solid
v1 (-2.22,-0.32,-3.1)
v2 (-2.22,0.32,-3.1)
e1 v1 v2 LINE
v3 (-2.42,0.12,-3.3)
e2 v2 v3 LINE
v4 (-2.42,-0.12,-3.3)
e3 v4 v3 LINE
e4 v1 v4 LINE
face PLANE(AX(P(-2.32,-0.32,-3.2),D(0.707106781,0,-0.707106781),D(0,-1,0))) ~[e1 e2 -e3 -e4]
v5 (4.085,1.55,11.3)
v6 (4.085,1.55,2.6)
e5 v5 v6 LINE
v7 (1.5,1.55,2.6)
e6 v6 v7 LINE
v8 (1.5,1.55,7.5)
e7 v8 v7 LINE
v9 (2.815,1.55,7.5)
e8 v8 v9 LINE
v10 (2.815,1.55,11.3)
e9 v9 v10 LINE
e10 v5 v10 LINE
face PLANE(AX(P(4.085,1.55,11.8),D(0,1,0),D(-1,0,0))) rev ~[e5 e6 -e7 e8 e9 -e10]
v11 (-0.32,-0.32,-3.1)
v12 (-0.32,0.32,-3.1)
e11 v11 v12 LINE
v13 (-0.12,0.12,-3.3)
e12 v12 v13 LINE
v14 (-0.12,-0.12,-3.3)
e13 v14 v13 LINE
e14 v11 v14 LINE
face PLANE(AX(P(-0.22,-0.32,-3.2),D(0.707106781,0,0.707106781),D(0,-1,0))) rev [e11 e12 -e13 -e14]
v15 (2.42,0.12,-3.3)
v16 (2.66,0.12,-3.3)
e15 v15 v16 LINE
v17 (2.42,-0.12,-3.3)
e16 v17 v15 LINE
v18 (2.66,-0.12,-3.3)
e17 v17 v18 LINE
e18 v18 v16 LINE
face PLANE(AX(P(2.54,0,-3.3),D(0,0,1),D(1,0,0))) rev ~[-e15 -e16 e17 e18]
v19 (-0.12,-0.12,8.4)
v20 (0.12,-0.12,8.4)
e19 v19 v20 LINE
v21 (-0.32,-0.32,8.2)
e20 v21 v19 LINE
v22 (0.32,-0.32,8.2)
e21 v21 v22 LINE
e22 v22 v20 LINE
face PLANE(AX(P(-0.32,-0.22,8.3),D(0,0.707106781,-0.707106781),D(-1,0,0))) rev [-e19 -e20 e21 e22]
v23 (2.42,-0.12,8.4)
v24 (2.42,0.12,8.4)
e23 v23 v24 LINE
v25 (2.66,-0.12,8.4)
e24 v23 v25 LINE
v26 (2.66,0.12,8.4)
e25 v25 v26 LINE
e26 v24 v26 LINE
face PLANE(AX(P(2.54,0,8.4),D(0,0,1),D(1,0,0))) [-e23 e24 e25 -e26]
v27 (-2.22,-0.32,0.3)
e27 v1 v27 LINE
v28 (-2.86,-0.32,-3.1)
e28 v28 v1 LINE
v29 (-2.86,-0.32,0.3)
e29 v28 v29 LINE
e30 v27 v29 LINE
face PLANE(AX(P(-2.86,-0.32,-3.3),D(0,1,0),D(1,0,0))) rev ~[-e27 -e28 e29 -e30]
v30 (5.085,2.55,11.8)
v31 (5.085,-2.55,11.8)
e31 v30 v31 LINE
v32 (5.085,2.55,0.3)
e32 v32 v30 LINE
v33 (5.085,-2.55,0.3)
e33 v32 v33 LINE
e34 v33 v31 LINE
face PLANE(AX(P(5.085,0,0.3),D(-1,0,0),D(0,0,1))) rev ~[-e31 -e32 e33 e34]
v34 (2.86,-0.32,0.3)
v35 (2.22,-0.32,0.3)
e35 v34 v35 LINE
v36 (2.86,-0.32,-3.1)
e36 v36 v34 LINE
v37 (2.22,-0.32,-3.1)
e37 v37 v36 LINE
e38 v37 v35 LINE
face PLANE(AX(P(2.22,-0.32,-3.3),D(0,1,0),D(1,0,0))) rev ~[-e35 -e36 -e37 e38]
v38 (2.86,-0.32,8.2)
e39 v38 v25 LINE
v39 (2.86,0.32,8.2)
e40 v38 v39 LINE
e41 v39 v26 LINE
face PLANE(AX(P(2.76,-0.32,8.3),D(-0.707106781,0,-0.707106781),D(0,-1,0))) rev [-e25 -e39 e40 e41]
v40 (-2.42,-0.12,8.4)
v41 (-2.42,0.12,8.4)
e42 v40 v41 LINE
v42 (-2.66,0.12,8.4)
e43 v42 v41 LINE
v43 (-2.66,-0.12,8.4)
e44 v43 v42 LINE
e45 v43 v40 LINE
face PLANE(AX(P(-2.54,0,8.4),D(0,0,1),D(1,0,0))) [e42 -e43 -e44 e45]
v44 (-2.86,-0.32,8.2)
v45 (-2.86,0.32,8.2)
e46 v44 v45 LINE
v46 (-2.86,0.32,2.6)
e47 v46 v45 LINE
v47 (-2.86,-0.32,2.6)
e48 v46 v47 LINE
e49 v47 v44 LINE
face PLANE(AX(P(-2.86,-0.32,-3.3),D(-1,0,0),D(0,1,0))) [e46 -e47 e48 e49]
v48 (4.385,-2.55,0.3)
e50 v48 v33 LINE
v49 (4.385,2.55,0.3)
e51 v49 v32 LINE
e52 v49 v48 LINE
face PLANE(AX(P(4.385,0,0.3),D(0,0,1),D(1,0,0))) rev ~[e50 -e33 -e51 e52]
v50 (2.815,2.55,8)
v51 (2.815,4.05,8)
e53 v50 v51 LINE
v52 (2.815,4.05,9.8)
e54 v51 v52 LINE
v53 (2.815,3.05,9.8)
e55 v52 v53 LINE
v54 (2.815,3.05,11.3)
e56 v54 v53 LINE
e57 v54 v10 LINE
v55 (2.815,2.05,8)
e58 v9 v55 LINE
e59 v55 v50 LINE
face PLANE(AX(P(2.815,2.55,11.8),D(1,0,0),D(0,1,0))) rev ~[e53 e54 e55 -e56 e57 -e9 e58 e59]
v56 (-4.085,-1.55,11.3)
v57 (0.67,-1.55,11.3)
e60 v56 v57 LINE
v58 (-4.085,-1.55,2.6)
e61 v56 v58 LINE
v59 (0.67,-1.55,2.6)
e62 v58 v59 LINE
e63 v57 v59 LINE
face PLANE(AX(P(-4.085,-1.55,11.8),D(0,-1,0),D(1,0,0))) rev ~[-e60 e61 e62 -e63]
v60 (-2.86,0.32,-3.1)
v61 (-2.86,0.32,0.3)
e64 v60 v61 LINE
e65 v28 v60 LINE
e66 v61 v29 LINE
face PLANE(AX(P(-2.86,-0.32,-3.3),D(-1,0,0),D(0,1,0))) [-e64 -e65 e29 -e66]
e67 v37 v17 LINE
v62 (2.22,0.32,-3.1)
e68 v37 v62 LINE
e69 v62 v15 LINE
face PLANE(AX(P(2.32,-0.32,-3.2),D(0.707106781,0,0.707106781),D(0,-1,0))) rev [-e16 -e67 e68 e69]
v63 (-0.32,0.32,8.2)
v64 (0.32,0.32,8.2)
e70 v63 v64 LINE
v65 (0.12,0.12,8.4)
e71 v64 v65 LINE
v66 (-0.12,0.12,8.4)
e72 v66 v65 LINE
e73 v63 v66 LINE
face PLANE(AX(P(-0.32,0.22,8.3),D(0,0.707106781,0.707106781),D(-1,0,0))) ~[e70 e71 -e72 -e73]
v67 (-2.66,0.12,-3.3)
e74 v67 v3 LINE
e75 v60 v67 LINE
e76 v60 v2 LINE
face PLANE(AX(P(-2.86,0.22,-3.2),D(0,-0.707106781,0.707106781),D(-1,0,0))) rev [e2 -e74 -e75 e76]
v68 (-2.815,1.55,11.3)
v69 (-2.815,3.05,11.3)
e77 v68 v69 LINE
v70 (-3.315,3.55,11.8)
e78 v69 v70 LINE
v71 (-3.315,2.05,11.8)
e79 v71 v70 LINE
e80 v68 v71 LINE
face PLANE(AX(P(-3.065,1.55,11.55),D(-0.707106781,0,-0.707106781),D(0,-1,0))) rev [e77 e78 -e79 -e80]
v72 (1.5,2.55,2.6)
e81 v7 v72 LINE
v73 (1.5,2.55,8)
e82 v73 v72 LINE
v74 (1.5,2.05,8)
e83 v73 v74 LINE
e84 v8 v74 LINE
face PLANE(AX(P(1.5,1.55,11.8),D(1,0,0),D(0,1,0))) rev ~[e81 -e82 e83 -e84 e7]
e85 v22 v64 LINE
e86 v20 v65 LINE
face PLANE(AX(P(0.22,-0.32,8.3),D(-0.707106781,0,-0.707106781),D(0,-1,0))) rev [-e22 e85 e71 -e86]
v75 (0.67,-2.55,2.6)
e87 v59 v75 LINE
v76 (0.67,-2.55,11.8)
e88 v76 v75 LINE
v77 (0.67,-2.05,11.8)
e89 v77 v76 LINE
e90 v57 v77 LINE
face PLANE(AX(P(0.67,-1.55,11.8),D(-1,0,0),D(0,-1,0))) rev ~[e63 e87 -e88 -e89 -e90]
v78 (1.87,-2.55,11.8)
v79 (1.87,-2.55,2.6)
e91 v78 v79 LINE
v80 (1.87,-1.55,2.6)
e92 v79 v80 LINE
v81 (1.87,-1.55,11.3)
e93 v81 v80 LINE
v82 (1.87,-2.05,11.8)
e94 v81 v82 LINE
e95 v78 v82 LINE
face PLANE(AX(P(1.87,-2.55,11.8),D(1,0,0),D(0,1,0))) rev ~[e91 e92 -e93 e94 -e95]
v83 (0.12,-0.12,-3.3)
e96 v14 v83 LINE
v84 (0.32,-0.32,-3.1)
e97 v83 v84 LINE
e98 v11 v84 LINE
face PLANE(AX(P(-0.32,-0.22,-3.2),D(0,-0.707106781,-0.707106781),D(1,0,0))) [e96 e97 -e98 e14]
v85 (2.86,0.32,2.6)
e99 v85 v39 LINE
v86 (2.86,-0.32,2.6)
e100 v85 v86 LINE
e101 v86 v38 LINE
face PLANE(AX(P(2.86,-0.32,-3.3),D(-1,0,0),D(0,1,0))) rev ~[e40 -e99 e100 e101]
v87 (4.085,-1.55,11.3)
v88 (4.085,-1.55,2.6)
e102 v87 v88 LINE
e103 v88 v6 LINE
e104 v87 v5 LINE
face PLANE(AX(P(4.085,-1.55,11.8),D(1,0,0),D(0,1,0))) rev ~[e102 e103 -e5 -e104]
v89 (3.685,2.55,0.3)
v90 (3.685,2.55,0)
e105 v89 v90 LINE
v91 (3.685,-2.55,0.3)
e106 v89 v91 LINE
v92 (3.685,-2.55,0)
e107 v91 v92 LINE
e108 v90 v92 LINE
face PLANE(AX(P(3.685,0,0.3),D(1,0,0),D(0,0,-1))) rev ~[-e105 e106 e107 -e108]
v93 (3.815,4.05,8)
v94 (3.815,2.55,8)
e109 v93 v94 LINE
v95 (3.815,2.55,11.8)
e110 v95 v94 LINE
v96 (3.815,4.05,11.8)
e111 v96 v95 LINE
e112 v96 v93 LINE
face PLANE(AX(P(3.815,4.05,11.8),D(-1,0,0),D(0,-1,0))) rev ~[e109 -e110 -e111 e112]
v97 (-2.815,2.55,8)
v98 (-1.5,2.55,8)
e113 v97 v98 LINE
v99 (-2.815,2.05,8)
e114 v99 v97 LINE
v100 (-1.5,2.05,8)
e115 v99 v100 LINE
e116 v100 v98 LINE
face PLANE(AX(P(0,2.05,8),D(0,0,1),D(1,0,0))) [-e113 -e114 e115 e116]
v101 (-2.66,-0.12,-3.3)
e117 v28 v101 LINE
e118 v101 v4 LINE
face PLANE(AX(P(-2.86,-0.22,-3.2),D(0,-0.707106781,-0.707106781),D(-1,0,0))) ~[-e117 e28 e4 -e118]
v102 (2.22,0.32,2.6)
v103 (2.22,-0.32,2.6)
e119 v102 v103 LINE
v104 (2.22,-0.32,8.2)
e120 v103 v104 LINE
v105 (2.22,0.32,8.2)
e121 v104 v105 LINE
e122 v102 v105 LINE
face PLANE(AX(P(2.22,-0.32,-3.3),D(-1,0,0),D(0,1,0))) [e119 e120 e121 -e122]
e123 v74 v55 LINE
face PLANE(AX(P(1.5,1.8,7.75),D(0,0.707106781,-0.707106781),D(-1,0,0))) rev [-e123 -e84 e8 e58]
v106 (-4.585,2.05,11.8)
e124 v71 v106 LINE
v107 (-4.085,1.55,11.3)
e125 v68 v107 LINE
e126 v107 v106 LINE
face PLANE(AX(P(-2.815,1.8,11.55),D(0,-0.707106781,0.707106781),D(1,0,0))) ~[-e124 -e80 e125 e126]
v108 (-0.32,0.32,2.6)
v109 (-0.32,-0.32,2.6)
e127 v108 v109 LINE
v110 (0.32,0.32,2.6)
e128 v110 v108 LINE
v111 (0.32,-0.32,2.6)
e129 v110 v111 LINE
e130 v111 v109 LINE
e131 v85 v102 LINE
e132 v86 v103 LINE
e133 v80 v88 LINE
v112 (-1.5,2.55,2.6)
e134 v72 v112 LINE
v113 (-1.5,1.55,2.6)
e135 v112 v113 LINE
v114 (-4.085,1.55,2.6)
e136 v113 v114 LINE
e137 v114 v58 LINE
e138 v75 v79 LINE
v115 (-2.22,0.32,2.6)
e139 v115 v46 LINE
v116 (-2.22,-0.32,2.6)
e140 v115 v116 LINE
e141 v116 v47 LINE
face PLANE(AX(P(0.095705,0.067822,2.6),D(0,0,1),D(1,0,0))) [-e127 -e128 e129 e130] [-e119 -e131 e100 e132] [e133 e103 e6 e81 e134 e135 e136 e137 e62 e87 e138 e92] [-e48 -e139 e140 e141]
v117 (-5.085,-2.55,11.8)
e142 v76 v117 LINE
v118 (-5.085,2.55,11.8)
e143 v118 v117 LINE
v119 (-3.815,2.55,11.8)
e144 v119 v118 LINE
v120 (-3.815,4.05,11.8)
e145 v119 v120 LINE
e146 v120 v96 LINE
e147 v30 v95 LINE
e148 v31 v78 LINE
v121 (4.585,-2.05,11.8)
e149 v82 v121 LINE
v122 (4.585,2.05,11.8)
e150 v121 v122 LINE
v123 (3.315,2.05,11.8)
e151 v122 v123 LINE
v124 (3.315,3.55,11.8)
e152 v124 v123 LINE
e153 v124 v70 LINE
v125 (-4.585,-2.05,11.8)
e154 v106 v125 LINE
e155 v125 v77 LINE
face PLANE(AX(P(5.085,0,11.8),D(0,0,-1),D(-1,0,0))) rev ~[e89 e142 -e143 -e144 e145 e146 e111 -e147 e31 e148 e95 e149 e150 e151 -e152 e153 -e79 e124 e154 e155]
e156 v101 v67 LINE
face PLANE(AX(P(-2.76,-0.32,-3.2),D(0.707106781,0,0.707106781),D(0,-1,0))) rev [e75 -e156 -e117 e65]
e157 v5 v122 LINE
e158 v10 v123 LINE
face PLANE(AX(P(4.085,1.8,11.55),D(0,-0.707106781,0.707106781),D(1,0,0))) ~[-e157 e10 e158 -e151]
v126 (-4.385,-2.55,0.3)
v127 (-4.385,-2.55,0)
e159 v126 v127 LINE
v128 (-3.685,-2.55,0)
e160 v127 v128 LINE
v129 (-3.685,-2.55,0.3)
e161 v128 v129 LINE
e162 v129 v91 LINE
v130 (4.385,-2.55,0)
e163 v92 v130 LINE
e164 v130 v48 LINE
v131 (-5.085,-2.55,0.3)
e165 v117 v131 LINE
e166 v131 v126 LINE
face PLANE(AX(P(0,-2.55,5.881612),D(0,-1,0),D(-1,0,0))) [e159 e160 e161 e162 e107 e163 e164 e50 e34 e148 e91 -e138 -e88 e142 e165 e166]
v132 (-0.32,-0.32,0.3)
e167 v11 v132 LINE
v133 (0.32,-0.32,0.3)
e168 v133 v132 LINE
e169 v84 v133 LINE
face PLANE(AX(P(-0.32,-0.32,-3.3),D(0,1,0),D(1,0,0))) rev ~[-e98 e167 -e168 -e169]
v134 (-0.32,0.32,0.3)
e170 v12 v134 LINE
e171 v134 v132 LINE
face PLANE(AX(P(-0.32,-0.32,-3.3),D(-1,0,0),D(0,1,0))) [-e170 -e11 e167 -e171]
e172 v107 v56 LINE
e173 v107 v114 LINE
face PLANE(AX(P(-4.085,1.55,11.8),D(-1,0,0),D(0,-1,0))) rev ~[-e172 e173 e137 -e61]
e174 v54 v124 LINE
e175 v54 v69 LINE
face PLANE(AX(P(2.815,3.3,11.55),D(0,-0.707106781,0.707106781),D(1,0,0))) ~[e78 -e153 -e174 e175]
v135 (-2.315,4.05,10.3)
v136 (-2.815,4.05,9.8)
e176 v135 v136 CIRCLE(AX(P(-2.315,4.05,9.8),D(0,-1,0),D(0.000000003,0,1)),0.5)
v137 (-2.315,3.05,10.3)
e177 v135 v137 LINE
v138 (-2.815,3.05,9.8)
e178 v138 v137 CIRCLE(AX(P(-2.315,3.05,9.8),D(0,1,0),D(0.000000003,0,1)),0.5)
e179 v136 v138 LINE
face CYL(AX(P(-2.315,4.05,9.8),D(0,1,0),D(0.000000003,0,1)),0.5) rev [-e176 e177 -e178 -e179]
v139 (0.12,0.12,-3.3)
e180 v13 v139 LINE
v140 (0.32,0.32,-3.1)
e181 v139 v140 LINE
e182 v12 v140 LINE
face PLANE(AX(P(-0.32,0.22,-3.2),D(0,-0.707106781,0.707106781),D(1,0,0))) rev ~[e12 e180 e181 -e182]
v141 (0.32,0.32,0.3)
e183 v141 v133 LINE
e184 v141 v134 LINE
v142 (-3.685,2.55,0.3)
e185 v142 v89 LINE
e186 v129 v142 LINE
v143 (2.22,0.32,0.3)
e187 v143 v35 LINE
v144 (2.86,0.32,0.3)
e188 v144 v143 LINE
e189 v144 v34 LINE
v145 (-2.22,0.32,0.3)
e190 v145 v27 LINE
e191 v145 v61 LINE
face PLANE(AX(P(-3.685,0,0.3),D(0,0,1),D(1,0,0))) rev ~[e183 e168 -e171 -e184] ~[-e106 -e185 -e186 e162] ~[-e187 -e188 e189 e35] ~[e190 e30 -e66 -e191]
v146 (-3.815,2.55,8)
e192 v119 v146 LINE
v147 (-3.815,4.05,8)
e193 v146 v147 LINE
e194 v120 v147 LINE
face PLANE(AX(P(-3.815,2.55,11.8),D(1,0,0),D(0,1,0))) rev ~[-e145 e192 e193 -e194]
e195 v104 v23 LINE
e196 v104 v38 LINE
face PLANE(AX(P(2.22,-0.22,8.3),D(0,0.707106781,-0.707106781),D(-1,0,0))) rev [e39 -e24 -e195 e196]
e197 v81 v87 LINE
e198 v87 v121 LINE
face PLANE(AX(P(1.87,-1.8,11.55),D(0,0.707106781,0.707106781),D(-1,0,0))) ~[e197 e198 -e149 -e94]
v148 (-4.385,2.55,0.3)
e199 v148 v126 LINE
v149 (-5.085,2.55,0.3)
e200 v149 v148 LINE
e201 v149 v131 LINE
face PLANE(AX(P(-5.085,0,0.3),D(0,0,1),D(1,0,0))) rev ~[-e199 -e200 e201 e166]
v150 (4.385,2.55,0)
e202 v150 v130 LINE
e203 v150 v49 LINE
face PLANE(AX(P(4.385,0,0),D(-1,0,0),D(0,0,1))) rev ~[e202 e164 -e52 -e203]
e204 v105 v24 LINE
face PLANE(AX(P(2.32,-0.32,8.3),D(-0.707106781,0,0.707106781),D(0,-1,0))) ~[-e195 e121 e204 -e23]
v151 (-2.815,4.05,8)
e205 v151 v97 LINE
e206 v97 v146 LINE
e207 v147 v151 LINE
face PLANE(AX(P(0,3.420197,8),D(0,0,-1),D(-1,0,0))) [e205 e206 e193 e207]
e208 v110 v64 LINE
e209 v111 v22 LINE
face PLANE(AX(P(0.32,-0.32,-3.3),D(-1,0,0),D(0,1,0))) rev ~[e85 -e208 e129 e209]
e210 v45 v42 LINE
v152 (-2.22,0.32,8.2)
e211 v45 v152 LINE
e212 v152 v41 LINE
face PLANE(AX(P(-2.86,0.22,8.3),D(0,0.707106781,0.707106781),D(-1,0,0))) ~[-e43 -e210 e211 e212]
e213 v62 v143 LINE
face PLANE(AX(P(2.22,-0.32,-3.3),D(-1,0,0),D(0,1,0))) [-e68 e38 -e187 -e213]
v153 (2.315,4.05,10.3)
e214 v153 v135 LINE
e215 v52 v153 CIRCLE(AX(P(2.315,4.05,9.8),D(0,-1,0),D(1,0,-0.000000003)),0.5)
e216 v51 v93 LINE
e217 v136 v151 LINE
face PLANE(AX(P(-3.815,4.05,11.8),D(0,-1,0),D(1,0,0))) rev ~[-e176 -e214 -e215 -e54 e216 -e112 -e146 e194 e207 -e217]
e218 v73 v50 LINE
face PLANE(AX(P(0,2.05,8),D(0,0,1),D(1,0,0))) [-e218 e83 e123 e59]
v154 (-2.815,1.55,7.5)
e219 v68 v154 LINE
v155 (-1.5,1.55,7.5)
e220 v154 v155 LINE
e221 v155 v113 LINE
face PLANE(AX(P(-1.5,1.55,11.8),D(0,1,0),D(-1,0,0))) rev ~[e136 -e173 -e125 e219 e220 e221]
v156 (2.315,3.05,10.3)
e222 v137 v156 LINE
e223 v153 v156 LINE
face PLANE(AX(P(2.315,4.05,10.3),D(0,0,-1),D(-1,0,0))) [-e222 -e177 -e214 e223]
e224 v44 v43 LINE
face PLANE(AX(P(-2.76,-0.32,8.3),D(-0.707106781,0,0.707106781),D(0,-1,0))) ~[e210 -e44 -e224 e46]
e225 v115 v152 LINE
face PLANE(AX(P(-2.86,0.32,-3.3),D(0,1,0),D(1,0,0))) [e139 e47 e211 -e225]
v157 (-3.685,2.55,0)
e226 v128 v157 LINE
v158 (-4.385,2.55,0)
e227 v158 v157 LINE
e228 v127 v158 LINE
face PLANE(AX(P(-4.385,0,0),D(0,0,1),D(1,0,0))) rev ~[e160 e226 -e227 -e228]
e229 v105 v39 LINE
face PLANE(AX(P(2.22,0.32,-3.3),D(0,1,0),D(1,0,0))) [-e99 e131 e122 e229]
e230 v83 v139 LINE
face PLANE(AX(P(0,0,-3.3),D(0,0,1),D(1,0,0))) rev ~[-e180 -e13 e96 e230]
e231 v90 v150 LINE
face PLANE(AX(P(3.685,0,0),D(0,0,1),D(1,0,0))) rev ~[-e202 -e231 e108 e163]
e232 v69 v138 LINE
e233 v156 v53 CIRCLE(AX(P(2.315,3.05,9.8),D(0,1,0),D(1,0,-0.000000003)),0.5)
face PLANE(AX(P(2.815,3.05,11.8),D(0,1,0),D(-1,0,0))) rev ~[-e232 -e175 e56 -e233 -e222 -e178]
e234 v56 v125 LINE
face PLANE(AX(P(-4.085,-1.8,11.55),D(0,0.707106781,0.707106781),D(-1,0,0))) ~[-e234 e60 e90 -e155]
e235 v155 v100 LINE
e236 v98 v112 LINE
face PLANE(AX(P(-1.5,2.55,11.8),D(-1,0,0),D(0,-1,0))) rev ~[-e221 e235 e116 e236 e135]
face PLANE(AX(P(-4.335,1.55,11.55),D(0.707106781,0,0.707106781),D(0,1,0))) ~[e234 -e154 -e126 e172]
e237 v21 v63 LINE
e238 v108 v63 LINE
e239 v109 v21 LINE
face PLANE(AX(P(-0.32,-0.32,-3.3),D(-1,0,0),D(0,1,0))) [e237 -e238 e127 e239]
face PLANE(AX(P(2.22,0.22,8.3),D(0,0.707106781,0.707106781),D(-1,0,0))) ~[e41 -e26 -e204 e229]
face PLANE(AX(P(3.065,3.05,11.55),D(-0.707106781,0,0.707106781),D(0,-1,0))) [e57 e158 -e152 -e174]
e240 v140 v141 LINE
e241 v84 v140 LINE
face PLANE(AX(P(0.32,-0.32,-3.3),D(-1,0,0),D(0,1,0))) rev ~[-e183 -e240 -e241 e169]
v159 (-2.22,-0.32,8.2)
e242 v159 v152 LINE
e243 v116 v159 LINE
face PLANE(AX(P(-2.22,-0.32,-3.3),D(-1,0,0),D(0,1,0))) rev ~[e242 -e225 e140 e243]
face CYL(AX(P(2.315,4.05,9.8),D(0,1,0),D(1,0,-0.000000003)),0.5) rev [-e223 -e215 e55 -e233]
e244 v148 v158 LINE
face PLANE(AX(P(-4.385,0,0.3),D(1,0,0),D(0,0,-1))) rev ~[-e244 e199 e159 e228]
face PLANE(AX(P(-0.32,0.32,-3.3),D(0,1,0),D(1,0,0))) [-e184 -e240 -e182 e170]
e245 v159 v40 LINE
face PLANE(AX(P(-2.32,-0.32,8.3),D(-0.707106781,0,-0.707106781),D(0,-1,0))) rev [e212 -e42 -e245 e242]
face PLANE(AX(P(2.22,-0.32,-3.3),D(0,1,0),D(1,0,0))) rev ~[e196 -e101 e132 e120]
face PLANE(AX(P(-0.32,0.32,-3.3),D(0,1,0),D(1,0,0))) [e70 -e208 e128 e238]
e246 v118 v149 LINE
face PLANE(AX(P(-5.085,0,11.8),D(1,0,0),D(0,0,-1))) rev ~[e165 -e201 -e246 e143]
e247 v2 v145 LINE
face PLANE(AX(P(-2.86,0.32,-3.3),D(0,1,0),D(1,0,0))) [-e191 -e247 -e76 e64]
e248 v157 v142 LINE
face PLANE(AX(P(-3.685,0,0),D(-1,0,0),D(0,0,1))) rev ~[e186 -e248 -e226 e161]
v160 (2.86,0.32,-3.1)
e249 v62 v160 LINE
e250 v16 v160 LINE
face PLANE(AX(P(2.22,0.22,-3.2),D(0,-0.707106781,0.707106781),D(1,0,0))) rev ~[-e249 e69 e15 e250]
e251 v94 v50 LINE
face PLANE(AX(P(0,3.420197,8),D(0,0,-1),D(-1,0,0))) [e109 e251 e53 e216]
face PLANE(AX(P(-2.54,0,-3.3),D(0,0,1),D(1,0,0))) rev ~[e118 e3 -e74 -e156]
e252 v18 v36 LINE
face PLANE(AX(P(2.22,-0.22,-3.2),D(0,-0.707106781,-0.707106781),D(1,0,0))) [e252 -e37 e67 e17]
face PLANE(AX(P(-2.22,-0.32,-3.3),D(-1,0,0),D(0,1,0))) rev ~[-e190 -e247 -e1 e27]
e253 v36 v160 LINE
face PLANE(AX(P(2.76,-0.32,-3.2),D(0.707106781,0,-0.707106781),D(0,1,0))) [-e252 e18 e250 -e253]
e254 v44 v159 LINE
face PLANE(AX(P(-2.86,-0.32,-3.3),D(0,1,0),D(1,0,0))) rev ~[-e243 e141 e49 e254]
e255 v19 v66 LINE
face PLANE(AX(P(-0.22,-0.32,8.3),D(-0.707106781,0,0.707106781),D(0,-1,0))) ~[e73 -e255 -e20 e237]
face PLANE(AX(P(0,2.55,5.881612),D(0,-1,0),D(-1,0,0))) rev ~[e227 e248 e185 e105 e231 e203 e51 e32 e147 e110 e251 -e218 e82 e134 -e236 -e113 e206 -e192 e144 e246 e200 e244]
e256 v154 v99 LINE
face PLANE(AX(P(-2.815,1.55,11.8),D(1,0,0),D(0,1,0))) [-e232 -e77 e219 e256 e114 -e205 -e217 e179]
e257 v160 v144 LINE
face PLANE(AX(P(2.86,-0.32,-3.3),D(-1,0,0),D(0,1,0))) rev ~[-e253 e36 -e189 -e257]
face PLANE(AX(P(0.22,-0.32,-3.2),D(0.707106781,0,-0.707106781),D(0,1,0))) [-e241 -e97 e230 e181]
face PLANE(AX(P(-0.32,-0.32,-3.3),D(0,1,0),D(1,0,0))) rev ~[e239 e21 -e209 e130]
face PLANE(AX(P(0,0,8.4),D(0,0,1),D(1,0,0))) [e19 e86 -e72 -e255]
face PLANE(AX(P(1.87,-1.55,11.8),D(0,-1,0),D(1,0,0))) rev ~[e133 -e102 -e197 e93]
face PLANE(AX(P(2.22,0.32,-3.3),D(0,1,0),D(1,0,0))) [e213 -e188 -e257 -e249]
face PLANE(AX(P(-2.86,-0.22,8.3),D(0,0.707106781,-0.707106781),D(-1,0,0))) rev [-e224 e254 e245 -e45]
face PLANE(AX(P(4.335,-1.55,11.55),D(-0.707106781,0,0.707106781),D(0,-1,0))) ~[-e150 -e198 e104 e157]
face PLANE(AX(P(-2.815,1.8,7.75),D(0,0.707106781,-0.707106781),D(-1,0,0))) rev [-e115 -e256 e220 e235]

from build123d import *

# Parameters (mm, degrees)
EXTRUDE_1_DEPTH                    = 2.55
CUT_EXTRUDE_1_DEPTH                = 9.2
EXTRUDE_2_DEPTH                    = 3.8
SKETCH_4_W                         = 5.63
SKETCH_4_H                         = 1
CUT_EXTRUDE_2_DEPTH                = 3.8
CUT_EXTRUDE_3_REACH                = 16.445
CHAMFER_1_SIZE                     = 0.5
EXTRUDE_START                      = -3.6
SKETCH_6_W                         = 0.64
SKETCH_6_H                         = 0.64
EXTRUDE_3_DEPTH                    = 11.7
CHAMFER_2_SIZE                     = 0.2
PATTERN_LINEAR_1_COUNT             = 3
PATTERN_LINEAR_1_PITCH             = 2.54
CHAMFER_2_OF_PATTERN_LINEAR_1_SIZE = 0.2


with BuildPart() as part:
    # Эскиз1 → Бобышка-Вытянуть1 (new, symmetric)
    with BuildSketch(Plane(origin=(0, 0, 0), x_dir=(1, 0, 0), z_dir=(0, 1, 0))):
        Polygon((-3.685, -0.3), (3.685, -0.3), (3.685, 0), (4.385, 0), (4.385, -0.3), (5.085, -0.3), (5.085, -11.8), (-5.085, -11.8), (-5.085, -0.3), (-4.385, -0.3), (-4.385, 0), (-3.685, 0), align=None)
    extrude(amount=EXTRUDE_1_DEPTH, both=True)

    # Эскиз2 → Вырез-Вытянуть1 (cut)
    with BuildSketch(Plane.XY.offset(11.8)):
        Polygon((-4.085, 1.55), (-4.085, -1.55), (0.67, -1.55), (0.67, -2.55), (1.87, -2.55), (1.87, -1.55), (4.085, -1.55), (4.085, 1.55), (1.5, 1.55), (1.5, 2.55), (-1.5, 2.55), (-1.5, 1.55), align=None)
    extrude(amount=-CUT_EXTRUDE_1_DEPTH, mode=Mode.SUBTRACT)

    # Эскиз3 → Бобышка-Вытянуть2 (add)
    with BuildSketch(Plane.XY.offset(11.8)):
        Polygon((-3.815, 2.55), (-3.815, 4.05), (3.815, 4.05), (3.815, 2.55), (2.815, 2.55), (2.815, 3.05), (-2.815, 3.05), (-2.815, 2.55), align=None)
    extrude(amount=-EXTRUDE_2_DEPTH)

    # Эскиз4 → Вырез-Вытянуть2 (cut)
    with BuildSketch(Plane.XY.offset(11.8)):
        with Locations((0, 2.05)):
            Rectangle(SKETCH_4_W, SKETCH_4_H)
    extrude(amount=-CUT_EXTRUDE_2_DEPTH, mode=Mode.SUBTRACT)

    # Эскиз5 → Вырез-Вытянуть3 (cut, up to next)
    with BuildSketch(Plane(origin=(0, 4.05, 0), x_dir=(1, 0, 0), z_dir=(0, 1, 0)), mode=Mode.PRIVATE) as cut_extrude_3_sk1:
        with BuildLine():
            Line((2.815, -8), (2.815, -9.8))
            ThreePointArc((2.815, -9.8), (2.668553391, -10.153553391), (2.315, -10.3))
            Line((2.315, -10.3), (-2.315, -10.3))
            ThreePointArc((-2.315, -10.3), (-2.668553391, -10.153553391), (-2.815, -9.8))
            Line((-2.815, -9.8), (-2.815, -8))
            Line((-2.815, -8), (2.815, -8))
        make_face()
    cut_extrude_3_tool1 = extrude(cut_extrude_3_sk1.sketch, amount=-CUT_EXTRUDE_3_REACH, mode=Mode.PRIVATE) & part.part
    add(cut_extrude_3_tool1.solids().sort_by_distance((0, 4.05, 9.141324))[0], mode=Mode.SUBTRACT)

    # Фаска1
    chamfer_1_edges = [part.edges().sort_by_distance(p)[0] for p in [
        (-2.1575, 1.55, 8),
        (-4.085, 0, 11.8),
        (-1.7075, -1.55, 11.8),
        (2.9775, -1.55, 11.8),
        (4.085, 0, 11.8),
        (3.45, 1.55, 11.8),
        (-2.815, 2.3, 11.8),
        (0, 3.05, 11.8),
        (2.815, 2.3, 11.8),
        (2.1575, 1.55, 8),
        (-3.45, 1.55, 11.8),
    ]]
    chamfer(chamfer_1_edges, length=CHAMFER_1_SIZE)

    # Эскиз6 → Бобышка-Вытянуть3 (add)
    with BuildSketch(Plane.XY.offset(0.3).offset(EXTRUDE_START)):
        with Locations((2.54, 0)):
            Rectangle(SKETCH_6_W, SKETCH_6_H)
    extrude_3 = extrude(amount=EXTRUDE_3_DEPTH)

    # Фаска2
    chamfer_2_edges = [part.edges().sort_by_distance(p)[0] for p in [
        (2.54, 0.32, 8.4),
        (2.86, 0, 8.4),
        (2.54, -0.32, 8.4),
        (2.22, 0, 8.4),
        (2.22, 0, -3.3),
        (2.54, 0.32, -3.3),
        (2.86, 0, -3.3),
        (2.54, -0.32, -3.3),
    ]]
    chamfer(chamfer_2_edges, length=CHAMFER_2_SIZE)

    # Линейный массив1: Бобышка-Вытянуть3 ×3
    with Locations(*[(-i * PATTERN_LINEAR_1_PITCH, 0, 0) for i in range(1, PATTERN_LINEAR_1_COUNT)]):
        add(extrude_3)

    # Фаска2 of Линейный массив1
    chamfer_2_of_pattern_linear_1_edges = [part.edges().sort_by_distance(p)[0] for p in [
        (0, 0.32, 8.4),
        (0.32, 0, 8.4),
        (0, -0.32, 8.4),
        (-0.32, 0, 8.4),
        (-0.32, 0, -3.3),
        (0, 0.32, -3.3),
        (0.32, 0, -3.3),
        (0, -0.32, -3.3),
        (-2.54, 0.32, 8.4),
        (-2.22, 0, 8.4),
        (-2.54, -0.32, 8.4),
        (-2.86, 0, 8.4),
        (-2.86, 0, -3.3),
        (-2.54, 0.32, -3.3),
        (-2.22, 0, -3.3),
        (-2.54, -0.32, -3.3),
    ]]
    chamfer(chamfer_2_of_pattern_linear_1_edges, length=CHAMFER_2_OF_PATTERN_LINEAR_1_SIZE)


solid = part.part
